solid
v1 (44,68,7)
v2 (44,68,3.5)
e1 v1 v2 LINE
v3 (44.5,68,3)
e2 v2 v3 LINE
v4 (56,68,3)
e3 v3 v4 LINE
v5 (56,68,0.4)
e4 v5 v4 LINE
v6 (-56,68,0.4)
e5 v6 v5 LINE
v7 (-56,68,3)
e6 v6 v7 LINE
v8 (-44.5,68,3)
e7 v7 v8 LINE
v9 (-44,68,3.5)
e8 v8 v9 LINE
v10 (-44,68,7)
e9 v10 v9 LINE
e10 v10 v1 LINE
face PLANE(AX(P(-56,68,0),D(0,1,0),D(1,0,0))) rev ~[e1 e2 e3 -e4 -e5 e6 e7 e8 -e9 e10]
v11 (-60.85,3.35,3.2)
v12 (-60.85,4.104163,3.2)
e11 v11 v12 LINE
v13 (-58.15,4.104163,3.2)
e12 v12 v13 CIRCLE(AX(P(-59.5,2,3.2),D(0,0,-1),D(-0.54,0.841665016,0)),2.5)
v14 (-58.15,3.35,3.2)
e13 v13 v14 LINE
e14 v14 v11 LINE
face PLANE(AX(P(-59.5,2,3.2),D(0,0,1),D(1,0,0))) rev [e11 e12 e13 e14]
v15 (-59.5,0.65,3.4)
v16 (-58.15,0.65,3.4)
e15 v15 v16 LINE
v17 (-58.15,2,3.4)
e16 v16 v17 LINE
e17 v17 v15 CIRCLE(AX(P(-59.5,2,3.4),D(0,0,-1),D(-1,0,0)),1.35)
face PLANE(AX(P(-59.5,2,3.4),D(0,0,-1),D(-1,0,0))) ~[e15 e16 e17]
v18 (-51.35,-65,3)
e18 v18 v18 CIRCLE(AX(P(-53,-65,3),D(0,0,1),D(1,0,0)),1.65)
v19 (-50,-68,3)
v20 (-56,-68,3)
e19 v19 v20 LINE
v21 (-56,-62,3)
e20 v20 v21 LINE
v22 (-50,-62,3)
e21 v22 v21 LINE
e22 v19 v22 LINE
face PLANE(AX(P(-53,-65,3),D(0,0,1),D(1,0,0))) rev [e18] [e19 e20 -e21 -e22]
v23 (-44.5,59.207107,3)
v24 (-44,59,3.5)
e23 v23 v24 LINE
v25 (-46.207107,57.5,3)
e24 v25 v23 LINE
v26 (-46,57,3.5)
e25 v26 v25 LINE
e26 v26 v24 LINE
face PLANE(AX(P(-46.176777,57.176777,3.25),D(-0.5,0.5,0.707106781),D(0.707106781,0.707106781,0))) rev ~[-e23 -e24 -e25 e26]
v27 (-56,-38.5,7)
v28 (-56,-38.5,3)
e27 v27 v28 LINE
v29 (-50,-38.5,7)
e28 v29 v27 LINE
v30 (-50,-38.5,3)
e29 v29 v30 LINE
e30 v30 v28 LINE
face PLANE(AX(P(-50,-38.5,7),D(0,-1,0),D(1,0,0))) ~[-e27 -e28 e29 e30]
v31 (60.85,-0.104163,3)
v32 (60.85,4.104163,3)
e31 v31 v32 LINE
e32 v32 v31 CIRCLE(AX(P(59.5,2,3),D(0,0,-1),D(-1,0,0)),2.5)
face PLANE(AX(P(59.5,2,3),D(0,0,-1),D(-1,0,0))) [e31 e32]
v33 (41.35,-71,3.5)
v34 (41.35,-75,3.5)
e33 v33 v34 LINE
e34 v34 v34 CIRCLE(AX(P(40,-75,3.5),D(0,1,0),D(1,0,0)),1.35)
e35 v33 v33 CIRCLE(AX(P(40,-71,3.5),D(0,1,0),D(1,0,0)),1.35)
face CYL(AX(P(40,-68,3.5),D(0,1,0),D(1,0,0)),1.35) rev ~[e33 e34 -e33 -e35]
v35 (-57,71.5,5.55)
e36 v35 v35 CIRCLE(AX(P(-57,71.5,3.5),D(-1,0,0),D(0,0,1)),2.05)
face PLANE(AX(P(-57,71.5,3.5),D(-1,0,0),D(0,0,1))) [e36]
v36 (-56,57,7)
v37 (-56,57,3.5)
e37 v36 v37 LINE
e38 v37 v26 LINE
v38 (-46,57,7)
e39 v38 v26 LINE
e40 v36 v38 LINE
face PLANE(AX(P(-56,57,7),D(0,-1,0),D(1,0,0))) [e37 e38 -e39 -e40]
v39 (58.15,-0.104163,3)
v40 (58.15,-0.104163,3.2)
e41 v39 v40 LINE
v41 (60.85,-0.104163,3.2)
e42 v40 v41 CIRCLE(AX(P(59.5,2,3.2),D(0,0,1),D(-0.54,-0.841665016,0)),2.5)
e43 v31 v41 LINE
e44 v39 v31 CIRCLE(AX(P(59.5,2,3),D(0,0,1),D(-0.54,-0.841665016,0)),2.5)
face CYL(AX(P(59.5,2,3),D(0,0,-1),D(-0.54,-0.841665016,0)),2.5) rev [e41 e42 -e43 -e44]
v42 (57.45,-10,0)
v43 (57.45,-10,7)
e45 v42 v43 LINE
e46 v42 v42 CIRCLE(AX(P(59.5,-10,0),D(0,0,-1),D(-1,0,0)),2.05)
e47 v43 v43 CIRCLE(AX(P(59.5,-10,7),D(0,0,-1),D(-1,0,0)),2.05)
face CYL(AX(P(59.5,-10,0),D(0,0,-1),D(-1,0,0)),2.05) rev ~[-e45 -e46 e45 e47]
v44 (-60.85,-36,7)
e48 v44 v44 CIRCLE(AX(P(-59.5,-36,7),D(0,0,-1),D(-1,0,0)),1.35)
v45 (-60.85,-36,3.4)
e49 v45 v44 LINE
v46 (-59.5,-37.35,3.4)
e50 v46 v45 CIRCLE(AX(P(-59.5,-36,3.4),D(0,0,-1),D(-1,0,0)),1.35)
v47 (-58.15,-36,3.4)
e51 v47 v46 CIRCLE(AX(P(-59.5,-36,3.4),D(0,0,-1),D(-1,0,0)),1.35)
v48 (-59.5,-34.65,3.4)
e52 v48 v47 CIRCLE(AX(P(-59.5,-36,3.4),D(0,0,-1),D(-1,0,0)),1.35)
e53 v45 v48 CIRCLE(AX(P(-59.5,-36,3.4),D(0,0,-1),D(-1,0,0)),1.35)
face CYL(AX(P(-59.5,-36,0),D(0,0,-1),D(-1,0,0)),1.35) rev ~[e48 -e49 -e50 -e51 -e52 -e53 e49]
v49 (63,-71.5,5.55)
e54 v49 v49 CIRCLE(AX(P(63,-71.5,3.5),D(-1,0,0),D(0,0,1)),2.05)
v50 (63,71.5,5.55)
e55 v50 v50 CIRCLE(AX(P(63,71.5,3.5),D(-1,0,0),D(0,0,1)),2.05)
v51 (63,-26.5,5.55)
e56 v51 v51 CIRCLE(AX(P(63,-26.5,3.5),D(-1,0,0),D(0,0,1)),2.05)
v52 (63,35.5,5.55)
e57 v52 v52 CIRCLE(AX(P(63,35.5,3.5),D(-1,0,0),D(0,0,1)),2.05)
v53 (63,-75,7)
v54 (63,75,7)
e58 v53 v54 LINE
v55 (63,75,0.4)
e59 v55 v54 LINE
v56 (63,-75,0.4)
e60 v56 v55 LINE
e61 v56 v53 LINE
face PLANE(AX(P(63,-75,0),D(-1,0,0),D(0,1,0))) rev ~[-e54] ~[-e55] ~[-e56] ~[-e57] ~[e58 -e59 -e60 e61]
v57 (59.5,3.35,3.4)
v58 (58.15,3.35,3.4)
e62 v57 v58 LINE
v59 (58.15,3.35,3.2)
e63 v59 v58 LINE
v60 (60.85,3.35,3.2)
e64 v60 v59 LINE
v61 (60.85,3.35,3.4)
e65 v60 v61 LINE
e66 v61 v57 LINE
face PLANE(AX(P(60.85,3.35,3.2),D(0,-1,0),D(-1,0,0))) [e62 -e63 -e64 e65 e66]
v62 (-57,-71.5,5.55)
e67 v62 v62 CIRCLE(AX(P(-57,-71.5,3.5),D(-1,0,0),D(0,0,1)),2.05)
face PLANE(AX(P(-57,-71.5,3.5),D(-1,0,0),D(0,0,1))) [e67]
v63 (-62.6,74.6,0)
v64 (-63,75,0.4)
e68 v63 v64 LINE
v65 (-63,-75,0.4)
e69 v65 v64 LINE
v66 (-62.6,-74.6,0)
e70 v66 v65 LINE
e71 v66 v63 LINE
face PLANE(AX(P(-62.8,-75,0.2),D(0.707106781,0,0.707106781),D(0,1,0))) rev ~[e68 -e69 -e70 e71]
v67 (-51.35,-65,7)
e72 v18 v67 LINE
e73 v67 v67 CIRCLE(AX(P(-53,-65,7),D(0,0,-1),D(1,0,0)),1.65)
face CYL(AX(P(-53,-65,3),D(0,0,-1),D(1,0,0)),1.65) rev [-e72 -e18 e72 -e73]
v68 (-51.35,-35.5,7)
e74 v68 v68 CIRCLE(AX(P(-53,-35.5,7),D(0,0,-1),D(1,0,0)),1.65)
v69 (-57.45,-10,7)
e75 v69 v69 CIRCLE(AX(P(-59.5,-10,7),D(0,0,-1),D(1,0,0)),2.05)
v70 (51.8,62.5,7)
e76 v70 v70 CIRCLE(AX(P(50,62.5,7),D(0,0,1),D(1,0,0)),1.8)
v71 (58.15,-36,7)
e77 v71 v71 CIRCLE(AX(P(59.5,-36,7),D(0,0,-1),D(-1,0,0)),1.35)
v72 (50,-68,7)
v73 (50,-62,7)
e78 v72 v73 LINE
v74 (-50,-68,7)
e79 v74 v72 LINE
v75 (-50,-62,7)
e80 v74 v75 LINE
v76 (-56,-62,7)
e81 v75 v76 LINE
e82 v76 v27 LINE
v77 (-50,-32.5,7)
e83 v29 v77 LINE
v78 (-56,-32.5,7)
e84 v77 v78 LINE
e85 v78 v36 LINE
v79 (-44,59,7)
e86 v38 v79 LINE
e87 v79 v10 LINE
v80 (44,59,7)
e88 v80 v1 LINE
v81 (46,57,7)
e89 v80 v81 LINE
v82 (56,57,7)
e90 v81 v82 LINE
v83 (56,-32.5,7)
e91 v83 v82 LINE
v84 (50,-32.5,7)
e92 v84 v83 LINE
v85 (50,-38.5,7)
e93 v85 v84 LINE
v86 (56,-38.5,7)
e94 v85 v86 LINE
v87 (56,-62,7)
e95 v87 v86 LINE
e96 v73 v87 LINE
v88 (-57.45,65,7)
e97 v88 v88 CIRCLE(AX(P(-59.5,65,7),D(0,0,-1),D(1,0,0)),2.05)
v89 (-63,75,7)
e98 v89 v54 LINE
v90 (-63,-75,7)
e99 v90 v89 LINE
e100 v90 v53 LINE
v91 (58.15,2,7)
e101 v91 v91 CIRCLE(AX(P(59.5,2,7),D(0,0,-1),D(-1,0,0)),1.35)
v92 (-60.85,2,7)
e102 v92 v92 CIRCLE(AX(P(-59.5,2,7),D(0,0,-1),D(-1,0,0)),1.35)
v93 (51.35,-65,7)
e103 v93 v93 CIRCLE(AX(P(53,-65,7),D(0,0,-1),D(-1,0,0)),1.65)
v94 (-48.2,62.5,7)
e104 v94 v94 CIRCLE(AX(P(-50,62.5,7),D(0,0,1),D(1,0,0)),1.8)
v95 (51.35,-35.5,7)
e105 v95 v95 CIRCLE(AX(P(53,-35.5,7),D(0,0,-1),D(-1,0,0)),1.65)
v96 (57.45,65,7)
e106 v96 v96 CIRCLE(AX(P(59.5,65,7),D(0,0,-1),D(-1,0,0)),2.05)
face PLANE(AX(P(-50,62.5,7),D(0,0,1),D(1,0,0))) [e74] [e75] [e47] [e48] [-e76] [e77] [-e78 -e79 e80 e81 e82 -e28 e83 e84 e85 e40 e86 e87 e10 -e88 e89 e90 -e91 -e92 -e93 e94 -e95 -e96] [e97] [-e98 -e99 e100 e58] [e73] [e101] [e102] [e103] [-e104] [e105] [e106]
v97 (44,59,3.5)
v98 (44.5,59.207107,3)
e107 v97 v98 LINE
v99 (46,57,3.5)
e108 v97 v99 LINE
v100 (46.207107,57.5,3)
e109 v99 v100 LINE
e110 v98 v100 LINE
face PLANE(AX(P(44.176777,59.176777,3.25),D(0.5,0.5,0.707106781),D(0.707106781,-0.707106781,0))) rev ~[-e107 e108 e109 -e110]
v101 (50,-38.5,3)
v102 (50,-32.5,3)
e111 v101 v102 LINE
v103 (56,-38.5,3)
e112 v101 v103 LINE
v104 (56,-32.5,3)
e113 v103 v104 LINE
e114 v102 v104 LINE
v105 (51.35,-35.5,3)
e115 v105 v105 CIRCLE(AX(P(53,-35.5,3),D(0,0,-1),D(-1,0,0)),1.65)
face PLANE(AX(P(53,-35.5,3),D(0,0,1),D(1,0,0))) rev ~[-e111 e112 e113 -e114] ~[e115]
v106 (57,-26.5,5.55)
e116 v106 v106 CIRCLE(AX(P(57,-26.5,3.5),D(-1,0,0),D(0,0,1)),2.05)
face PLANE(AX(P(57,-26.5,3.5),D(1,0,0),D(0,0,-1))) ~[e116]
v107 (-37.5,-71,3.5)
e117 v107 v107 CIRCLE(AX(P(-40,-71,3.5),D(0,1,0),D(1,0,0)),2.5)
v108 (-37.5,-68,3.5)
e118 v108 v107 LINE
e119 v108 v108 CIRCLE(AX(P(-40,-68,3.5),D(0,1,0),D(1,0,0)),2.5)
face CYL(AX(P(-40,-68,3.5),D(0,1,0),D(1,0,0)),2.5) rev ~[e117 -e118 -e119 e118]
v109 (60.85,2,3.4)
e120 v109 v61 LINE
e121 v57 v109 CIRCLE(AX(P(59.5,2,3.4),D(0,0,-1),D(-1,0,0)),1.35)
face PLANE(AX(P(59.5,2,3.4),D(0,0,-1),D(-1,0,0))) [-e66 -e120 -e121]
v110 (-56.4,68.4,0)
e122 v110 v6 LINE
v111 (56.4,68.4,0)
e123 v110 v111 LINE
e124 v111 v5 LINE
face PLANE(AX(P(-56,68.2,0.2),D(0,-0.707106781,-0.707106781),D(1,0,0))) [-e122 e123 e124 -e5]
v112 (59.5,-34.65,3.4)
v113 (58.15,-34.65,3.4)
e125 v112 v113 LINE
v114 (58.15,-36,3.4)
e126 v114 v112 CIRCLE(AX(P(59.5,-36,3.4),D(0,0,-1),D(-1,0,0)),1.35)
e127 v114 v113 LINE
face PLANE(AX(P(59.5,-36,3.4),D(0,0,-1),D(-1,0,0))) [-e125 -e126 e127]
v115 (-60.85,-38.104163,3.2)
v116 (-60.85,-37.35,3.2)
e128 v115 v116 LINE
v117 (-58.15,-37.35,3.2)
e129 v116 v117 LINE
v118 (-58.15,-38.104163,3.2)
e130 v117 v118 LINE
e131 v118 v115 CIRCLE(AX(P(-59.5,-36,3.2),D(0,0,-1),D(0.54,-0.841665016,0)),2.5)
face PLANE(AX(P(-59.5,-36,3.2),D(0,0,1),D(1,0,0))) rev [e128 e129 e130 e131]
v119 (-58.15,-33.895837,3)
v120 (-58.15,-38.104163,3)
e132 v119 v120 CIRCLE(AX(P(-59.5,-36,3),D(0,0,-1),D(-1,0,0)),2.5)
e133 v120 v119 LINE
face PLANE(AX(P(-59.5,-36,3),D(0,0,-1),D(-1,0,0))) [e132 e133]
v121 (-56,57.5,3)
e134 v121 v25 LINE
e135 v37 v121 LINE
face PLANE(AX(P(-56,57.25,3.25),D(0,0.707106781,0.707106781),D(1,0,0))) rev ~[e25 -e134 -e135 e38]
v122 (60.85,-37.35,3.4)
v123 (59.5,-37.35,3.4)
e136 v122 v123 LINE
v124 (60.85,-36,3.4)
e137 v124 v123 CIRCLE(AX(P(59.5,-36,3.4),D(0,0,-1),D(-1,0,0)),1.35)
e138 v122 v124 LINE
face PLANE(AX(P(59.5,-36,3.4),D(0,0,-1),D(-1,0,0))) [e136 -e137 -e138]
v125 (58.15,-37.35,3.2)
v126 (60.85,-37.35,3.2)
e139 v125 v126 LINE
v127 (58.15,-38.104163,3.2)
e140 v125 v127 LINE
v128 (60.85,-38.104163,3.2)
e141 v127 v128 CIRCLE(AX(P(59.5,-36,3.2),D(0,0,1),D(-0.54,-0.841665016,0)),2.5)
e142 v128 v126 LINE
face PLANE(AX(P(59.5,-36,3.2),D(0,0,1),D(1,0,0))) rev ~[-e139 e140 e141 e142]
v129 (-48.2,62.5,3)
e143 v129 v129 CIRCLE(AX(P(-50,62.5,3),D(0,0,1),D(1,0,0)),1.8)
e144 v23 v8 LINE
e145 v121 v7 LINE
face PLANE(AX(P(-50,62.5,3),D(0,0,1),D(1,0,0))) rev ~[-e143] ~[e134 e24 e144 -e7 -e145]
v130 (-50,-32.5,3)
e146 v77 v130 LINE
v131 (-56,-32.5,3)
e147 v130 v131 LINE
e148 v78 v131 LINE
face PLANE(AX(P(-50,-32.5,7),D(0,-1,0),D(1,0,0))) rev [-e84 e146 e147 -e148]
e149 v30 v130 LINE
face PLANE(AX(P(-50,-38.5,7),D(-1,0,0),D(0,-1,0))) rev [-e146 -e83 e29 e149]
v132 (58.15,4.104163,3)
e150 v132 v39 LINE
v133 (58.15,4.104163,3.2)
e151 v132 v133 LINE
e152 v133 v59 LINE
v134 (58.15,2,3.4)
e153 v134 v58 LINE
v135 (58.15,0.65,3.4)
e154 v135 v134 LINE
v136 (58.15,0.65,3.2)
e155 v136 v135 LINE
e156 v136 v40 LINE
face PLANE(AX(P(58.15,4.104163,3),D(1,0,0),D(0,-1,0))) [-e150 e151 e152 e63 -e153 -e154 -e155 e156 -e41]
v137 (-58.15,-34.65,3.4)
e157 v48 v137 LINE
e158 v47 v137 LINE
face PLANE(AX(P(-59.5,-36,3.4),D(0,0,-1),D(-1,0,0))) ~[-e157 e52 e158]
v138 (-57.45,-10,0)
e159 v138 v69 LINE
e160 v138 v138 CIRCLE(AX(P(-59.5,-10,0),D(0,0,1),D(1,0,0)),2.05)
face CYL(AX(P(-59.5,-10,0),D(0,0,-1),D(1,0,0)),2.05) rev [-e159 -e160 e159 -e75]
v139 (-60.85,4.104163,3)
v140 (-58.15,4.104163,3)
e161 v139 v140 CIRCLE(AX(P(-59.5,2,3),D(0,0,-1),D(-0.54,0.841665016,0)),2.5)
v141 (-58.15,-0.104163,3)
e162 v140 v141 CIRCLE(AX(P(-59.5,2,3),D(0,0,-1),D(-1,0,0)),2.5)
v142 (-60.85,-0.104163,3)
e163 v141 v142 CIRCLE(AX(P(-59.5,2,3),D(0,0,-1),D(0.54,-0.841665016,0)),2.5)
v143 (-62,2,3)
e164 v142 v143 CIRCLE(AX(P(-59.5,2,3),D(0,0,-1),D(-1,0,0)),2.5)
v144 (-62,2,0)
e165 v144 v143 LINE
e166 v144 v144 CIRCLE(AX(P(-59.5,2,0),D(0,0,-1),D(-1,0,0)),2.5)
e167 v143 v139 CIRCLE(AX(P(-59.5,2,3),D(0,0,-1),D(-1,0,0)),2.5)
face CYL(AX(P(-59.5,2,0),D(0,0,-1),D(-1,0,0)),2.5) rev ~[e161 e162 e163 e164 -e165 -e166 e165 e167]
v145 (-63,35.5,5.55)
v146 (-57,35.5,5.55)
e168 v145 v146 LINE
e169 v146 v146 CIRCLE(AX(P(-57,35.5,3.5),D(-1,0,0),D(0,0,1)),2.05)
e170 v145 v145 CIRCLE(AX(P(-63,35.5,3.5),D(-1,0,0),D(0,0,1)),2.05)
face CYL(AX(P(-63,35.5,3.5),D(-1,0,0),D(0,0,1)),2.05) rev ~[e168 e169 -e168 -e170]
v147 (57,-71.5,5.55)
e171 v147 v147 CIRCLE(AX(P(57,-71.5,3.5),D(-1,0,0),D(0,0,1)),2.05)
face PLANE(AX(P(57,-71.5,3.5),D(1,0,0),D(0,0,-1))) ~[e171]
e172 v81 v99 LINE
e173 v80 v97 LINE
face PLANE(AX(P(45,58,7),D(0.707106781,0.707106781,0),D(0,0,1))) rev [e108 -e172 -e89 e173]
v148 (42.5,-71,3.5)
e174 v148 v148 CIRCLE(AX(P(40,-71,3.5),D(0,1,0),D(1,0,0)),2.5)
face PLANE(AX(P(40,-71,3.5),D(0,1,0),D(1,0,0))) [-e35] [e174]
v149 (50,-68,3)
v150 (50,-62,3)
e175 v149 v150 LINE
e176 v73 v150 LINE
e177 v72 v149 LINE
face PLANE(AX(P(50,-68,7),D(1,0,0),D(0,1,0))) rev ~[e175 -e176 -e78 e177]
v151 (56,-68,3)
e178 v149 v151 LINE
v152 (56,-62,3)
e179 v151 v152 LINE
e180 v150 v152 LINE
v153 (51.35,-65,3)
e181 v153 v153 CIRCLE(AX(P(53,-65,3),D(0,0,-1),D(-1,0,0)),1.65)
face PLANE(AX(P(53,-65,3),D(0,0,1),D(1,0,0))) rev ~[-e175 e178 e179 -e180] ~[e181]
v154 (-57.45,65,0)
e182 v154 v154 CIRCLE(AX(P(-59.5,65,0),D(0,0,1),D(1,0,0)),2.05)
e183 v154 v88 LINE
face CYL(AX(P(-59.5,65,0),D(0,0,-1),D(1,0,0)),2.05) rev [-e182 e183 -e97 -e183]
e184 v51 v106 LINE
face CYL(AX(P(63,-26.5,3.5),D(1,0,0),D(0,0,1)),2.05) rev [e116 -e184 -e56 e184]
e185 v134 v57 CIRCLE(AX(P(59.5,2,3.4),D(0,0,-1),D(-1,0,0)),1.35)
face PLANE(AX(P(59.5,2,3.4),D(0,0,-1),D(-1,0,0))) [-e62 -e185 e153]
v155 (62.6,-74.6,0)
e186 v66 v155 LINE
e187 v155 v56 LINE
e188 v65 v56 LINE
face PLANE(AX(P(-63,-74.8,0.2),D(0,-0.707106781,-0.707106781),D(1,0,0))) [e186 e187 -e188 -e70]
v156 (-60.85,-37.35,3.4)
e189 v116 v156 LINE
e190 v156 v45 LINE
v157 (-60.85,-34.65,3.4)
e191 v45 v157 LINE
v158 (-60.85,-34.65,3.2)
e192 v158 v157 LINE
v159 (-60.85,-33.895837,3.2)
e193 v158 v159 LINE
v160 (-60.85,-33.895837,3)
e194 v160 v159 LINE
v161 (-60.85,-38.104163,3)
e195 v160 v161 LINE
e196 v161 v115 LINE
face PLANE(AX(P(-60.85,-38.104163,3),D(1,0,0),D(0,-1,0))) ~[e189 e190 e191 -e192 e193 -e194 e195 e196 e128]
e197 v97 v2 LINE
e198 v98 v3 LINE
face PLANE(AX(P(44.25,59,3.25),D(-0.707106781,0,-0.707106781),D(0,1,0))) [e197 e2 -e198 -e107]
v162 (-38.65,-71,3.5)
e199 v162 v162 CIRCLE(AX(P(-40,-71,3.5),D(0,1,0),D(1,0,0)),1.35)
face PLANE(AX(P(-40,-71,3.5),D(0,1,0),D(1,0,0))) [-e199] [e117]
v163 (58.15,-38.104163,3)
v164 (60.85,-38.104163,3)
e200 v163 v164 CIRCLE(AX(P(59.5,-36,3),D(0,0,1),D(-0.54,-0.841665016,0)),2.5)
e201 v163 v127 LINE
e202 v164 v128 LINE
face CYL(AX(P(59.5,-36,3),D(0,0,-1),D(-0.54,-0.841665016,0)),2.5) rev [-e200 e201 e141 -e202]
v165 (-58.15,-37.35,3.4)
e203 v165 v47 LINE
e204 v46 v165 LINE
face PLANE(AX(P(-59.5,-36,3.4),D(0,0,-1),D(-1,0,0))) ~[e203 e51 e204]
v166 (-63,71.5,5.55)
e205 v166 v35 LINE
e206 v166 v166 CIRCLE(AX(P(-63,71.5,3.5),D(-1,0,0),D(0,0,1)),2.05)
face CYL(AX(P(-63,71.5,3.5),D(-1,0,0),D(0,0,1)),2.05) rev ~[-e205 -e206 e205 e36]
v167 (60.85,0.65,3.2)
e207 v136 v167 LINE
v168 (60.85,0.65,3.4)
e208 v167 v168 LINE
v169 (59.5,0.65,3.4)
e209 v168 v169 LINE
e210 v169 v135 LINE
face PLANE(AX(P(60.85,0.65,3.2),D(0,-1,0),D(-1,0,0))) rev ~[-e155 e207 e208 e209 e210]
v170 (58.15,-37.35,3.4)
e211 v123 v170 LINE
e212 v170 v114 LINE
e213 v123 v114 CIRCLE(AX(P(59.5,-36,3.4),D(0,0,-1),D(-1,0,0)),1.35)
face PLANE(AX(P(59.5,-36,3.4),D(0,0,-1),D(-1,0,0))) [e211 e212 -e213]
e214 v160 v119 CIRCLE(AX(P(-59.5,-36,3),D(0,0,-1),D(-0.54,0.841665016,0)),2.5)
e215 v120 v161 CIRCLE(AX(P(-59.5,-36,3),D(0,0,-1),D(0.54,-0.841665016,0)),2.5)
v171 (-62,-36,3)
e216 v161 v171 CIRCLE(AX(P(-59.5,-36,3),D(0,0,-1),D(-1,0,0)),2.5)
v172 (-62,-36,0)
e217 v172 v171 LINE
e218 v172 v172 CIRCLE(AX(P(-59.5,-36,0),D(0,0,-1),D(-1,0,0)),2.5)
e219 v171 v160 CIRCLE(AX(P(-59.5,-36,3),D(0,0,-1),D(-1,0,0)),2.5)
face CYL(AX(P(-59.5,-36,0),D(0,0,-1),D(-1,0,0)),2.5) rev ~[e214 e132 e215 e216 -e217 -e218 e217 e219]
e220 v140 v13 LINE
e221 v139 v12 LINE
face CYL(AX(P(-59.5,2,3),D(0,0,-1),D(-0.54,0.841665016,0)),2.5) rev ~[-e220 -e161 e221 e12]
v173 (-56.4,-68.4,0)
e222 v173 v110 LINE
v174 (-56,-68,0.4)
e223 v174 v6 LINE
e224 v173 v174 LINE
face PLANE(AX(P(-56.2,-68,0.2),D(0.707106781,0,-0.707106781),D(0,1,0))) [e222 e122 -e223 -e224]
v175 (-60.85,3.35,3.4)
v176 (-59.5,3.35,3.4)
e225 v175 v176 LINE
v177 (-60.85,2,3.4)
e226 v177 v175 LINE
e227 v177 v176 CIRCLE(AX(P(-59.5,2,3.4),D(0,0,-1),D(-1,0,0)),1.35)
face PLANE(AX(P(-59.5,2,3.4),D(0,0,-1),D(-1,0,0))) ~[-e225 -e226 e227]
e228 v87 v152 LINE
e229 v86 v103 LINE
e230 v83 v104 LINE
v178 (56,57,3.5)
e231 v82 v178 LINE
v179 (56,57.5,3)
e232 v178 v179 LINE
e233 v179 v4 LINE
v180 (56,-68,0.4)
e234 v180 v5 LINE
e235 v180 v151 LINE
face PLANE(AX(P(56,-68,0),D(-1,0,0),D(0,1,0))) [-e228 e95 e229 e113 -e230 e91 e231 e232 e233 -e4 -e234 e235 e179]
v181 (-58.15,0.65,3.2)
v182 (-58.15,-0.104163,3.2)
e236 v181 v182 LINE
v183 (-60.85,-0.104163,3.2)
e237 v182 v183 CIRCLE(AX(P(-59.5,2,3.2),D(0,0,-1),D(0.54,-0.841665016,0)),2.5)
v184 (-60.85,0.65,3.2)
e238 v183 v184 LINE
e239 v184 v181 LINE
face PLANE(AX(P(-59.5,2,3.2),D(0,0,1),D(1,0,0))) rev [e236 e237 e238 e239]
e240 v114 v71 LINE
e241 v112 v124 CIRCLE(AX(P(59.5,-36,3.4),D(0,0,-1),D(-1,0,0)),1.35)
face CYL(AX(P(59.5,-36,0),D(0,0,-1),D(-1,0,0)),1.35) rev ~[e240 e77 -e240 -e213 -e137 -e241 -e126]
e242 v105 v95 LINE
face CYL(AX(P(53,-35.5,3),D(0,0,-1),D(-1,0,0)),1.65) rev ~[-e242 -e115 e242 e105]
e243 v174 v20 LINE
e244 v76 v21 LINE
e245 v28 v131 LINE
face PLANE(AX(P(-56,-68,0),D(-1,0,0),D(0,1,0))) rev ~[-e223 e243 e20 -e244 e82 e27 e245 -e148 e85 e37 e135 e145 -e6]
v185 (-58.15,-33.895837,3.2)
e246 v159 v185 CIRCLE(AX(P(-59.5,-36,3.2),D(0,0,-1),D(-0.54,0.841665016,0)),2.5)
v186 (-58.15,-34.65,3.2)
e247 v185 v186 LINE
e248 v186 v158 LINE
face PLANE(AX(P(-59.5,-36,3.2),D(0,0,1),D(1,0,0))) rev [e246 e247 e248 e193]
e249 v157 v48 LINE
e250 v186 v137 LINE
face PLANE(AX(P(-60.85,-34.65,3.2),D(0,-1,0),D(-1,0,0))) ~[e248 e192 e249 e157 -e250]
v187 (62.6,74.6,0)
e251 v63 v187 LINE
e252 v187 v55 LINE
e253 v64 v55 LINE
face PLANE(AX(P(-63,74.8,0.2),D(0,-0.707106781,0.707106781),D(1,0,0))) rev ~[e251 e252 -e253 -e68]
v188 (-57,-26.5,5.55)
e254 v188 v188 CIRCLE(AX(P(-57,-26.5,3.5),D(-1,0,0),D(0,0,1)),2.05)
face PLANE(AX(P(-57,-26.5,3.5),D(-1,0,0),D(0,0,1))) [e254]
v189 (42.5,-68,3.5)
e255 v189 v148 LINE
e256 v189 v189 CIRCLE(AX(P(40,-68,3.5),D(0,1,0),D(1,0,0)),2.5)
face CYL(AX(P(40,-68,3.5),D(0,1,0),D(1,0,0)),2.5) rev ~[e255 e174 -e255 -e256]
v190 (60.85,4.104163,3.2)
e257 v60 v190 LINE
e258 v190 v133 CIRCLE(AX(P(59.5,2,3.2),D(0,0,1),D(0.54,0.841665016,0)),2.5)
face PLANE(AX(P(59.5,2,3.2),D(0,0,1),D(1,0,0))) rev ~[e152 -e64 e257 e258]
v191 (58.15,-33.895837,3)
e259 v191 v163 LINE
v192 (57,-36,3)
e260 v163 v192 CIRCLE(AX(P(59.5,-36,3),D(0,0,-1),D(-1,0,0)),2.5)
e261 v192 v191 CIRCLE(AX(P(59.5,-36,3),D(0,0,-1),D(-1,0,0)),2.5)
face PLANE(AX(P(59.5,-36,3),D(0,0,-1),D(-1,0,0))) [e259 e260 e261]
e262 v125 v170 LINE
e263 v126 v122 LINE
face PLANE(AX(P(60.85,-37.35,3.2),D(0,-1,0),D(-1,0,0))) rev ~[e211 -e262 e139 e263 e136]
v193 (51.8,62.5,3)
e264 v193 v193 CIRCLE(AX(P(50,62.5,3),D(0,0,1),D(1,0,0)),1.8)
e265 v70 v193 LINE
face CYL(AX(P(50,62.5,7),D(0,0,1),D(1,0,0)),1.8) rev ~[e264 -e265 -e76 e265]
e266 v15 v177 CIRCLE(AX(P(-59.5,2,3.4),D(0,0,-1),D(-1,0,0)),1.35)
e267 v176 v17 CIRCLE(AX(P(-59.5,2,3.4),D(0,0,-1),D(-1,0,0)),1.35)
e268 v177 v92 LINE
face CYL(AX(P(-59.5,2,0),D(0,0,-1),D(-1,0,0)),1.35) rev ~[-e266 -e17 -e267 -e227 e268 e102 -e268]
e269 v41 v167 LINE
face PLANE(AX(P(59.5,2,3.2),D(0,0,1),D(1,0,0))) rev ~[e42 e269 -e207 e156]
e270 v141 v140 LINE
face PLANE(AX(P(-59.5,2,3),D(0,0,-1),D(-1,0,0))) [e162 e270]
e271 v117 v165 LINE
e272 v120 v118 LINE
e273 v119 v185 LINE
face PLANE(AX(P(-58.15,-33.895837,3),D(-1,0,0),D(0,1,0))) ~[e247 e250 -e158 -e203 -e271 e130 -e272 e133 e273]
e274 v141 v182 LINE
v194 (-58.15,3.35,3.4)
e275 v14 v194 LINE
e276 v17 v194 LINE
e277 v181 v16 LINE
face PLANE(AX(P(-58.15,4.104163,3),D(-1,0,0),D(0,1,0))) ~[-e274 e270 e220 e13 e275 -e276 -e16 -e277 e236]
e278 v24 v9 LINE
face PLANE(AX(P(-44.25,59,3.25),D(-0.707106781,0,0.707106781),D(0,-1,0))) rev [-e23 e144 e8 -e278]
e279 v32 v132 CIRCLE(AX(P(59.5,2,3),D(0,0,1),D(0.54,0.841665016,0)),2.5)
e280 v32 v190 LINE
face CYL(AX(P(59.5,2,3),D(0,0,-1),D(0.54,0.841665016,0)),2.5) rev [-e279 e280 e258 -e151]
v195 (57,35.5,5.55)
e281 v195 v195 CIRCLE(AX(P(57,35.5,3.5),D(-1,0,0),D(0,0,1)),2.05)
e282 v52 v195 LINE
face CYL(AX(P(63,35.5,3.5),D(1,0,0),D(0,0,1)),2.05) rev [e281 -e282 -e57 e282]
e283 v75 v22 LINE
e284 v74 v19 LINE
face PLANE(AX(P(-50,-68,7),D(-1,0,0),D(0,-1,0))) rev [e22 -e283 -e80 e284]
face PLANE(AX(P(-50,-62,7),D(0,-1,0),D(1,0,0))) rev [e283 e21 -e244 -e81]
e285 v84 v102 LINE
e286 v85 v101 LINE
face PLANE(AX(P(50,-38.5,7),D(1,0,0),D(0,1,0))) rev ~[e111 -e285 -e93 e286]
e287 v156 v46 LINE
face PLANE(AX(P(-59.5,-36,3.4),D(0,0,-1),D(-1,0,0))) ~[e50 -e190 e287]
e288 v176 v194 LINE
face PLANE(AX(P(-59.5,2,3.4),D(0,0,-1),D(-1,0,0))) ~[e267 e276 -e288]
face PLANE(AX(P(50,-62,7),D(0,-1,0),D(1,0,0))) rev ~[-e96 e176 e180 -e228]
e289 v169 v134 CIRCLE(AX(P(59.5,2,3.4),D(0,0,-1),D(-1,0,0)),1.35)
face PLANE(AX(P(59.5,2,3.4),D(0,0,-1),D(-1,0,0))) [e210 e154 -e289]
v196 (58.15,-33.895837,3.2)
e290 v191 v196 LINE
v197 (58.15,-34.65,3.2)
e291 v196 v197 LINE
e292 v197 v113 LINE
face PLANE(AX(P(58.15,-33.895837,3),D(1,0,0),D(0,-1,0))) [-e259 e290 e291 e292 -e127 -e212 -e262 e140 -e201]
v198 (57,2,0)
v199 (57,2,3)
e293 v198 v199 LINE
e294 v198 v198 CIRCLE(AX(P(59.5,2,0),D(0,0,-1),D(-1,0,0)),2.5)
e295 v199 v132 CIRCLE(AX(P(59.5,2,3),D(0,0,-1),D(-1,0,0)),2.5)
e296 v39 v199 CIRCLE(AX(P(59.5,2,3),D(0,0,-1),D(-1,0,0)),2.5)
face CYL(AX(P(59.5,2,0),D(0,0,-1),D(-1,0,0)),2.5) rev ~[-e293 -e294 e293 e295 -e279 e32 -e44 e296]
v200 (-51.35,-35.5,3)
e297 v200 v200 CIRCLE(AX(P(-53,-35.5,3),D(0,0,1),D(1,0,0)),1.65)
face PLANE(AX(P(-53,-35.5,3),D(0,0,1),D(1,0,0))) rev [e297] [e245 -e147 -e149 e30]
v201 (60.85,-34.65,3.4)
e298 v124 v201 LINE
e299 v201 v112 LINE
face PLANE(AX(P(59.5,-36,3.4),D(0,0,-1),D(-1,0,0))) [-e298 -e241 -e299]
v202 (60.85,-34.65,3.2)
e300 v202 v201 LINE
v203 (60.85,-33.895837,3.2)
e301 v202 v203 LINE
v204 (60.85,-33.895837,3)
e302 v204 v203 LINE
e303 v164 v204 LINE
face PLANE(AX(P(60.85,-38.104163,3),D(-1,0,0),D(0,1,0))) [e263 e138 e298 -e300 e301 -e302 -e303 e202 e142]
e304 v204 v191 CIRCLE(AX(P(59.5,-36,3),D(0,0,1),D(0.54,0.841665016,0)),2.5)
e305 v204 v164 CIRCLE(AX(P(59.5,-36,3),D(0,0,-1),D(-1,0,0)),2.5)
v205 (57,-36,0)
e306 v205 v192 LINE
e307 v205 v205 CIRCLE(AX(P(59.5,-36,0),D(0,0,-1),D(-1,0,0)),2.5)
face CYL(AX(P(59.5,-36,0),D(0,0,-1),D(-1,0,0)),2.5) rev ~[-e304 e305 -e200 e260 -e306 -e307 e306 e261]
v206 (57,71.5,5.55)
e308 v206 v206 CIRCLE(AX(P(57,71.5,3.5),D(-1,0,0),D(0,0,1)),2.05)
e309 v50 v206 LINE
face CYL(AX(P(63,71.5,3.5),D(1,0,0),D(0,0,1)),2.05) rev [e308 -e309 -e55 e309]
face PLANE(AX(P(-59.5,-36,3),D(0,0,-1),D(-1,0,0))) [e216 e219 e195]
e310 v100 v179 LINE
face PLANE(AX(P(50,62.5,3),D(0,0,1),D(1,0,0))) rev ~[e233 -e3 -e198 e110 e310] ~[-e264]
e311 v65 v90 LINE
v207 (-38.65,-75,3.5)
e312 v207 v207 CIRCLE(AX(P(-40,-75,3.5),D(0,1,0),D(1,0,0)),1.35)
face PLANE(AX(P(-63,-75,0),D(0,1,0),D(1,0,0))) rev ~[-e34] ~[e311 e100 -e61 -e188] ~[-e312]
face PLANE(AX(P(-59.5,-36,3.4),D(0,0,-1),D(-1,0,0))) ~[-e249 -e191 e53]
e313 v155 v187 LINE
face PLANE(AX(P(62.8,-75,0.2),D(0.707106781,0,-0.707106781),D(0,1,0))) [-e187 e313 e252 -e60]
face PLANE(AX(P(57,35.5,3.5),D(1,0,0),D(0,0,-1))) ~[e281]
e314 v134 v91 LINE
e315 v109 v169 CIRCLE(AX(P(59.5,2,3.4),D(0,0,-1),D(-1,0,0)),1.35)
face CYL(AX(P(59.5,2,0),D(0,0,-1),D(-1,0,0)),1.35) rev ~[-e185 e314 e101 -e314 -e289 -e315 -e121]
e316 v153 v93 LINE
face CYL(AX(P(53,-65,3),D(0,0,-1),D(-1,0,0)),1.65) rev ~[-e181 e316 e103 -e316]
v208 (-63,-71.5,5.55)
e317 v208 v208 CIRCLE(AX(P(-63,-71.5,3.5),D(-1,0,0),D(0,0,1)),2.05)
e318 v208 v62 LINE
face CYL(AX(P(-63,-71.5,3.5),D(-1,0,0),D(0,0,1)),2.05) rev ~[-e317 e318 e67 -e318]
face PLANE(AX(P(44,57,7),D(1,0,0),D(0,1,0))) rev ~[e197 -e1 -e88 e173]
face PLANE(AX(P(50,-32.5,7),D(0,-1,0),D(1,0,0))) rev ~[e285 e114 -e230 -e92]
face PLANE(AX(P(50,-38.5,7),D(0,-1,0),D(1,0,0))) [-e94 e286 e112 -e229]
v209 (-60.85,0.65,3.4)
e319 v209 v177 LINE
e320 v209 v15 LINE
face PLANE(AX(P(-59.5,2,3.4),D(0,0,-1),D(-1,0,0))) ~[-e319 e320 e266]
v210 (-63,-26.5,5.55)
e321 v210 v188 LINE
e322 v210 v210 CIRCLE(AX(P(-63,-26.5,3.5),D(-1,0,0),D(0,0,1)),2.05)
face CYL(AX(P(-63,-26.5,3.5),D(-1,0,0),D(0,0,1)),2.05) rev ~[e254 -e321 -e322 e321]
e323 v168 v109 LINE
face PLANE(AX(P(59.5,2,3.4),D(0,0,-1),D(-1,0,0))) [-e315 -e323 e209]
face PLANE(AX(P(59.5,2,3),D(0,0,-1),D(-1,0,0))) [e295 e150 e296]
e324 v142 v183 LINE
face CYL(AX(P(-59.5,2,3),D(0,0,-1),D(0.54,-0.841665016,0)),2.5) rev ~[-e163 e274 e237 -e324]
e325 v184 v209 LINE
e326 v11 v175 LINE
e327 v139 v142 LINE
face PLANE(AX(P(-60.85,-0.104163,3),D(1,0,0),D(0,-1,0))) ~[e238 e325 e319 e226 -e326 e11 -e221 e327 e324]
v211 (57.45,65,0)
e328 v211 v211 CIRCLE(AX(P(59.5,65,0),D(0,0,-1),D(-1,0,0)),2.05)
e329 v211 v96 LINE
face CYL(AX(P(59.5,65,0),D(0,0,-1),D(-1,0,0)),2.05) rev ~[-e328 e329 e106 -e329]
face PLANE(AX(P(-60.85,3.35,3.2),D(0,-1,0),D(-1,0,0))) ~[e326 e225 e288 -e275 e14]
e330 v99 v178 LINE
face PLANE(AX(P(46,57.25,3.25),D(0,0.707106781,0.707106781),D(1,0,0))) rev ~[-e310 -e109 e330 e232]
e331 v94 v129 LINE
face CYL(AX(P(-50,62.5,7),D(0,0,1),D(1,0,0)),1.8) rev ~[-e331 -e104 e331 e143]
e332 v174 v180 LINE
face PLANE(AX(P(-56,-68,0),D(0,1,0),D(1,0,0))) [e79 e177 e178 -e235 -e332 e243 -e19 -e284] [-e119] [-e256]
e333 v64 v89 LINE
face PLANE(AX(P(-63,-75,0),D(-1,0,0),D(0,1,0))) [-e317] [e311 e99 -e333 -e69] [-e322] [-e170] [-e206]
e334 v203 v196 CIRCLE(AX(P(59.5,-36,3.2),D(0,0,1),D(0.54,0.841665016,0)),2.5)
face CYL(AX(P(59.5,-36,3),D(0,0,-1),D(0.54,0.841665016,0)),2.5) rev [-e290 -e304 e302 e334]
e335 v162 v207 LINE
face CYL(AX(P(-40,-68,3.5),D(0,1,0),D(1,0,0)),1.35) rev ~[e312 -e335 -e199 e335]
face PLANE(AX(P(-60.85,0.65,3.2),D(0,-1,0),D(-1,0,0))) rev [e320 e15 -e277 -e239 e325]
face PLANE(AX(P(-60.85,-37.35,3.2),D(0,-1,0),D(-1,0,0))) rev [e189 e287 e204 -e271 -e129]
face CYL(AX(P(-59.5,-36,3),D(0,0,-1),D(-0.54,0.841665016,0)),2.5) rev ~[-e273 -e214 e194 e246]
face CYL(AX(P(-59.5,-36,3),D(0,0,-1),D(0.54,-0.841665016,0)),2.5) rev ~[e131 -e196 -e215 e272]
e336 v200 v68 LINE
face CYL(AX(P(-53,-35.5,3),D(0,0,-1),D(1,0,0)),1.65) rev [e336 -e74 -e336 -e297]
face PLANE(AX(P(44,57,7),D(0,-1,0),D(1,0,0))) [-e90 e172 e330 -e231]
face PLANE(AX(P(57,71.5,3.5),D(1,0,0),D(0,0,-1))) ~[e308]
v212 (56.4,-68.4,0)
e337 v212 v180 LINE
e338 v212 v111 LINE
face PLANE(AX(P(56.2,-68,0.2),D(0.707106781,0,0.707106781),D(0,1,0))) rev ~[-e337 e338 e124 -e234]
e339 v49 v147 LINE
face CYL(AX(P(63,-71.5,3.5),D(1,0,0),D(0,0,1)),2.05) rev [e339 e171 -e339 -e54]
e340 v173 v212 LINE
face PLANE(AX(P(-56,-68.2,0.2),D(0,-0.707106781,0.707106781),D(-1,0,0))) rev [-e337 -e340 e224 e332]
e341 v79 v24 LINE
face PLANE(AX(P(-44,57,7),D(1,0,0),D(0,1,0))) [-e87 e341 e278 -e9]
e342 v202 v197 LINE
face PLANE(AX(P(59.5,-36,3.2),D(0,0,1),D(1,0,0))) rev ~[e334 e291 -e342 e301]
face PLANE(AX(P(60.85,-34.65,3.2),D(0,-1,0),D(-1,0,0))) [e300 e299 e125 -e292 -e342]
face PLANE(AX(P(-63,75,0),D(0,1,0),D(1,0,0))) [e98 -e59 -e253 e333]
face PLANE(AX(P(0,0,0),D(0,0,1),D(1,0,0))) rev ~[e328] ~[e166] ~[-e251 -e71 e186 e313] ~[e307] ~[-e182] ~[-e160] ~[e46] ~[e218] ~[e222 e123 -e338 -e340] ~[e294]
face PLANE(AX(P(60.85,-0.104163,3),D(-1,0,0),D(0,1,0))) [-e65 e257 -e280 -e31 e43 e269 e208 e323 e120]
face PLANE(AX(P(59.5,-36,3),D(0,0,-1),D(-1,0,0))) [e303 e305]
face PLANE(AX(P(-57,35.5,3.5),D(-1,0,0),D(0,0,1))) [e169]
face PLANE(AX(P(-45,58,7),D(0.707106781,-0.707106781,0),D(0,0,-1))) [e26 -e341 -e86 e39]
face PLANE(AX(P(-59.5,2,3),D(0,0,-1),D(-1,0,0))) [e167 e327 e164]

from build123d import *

# Parameters (mm, degrees)
SKETCH1_W                       = 126
SKETCH1_H                       = 150
SKETCH1_W_2                     = 112
SKETCH1_H_2                     = 136
BOSS_EXTRUDE1_DEPTH             = 7
SKETCH2_R                       = 2.05
CUT_EXTRUDE1_DEPTH              = 6
SKETCH3_R                       = 1.35
CUT_EXTRUDE2_DEPTH              = 8
SKETCH4_R                       = 2.5
CUT_EXTRUDE3_DEPTH              = 3
SKETCH5_R                       = 1.35
CUT_EXTRUDE4_DEPTH              = 8
SKETCH6_R                       = 2.5
CUT_EXTRUDE5_DEPTH              = 3
SKETCH7_R                       = 2.05
CUT_EXTRUDE6_DEPTH              = 8
CUT_EXTRUDE7_DEPTH              = 0.2
SKETCH9_W                       = 2.7
SKETCH9_H                       = 2.7
CUT_EXTRUDE8_DEPTH              = 0.2
SKETCH10_W                      = 6
SKETCH10_H                      = 6
BOSS_EXTRUDE2_DEPTH             = 4
SKETCH11_R                      = 1.65
CUT_EXTRUDE9_DEPTH              = 5
CHAMFER1_SIZE                   = 0.4
CHAMFER2_SIZE                   = 0.4
SKIZZE2_W                       = 12
SKIZZE2_H                       = 11
SKIZZE2_R                       = 1.8
AUFSATZ_LINEAR_AUSTRAGEN1_DEPTH = 4
FASE1_SIZE                      = 2
FASE2_SIZE                      = 0.5


with BuildPart() as part:
    # Sketch1 → Boss-Extrude1 (new body)
    with BuildSketch(Plane.XY):
        Rectangle(SKETCH1_W, SKETCH1_H)
        Rectangle(SKETCH1_W_2, SKETCH1_H_2, mode=Mode.SUBTRACT)
    extrude(amount=BOSS_EXTRUDE1_DEPTH)

    # Sketch2 → Cut-Extrude1 (cut)
    with BuildSketch(Plane.ZY.offset(63)):
        with Locations((3.5, -71.5)):
            Circle(SKETCH2_R)
        with Locations((3.5, 71.5)):
            Circle(SKETCH2_R)
        with Locations((3.5, 35.5)):
            Circle(SKETCH2_R)
        with Locations((3.5, -26.5)):
            Circle(SKETCH2_R)
    cut_extrude1 = extrude(amount=-CUT_EXTRUDE1_DEPTH, mode=Mode.SUBTRACT)

    # Mirror1: Cut-Extrude1 across plane
    add(cut_extrude1.mirror(Plane(origin=(0, 0, 0), x_dir=(0, 0, 1), z_dir=(1, 0, 0))), mode=Mode.SUBTRACT)

    # Sketch3 → Cut-Extrude2 (cut, through all)
    with BuildSketch(Plane(origin=(0, -68, 0), x_dir=(1, 0, 0), z_dir=(0, 1, 0))):
        with Locations((40, -3.5)):
            Circle(SKETCH3_R)
        with Locations((-40, -3.5)):
            Circle(SKETCH3_R)
    extrude(amount=-CUT_EXTRUDE2_DEPTH, mode=Mode.SUBTRACT)

    # Sketch4 → Cut-Extrude3 (cut)
    with BuildSketch(Plane(origin=(0, -68, 0), x_dir=(1, 0, 0), z_dir=(0, 1, 0))):
        with Locations((40, -3.5)):
            Circle(SKETCH4_R)
        with Locations((-40, -3.5)):
            Circle(SKETCH4_R)
    extrude(amount=-CUT_EXTRUDE3_DEPTH, mode=Mode.SUBTRACT)

    # Sketch5 → Cut-Extrude4 (cut, through all)
    with BuildSketch(Plane(origin=(0, 0, 0), x_dir=(-1, 0, 0), z_dir=(0, 0, -1))):
        with Locations((-59.5, 2)):
            Circle(SKETCH5_R)
        with Locations((59.5, 2)):
            Circle(SKETCH5_R)
        with Locations((-59.5, -36)):
            Circle(SKETCH5_R)
        with Locations((59.5, -36)):
            Circle(SKETCH5_R)
    extrude(amount=-CUT_EXTRUDE4_DEPTH, mode=Mode.SUBTRACT)

    # Sketch6 → Cut-Extrude5 (cut)
    with BuildSketch(Plane(origin=(0, 0, 0), x_dir=(-1, 0, 0), z_dir=(0, 0, -1))):
        with Locations((-59.5, 2)):
            Circle(SKETCH6_R)
        with Locations((59.5, 2)):
            Circle(SKETCH6_R)
        with Locations((-59.5, -36)):
            Circle(SKETCH6_R)
        with Locations((59.5, -36)):
            Circle(SKETCH6_R)
    extrude(amount=-CUT_EXTRUDE5_DEPTH, mode=Mode.SUBTRACT)

    # Sketch7 → Cut-Extrude6 (cut, through all)
    with BuildSketch(Plane(origin=(0, 0, 0), x_dir=(-1, 0, 0), z_dir=(0, 0, -1))):
        with Locations((-59.5, 65)):
            Circle(SKETCH7_R)
        with Locations((-59.5, -10)):
            Circle(SKETCH7_R)
    cut_extrude6 = extrude(amount=-CUT_EXTRUDE6_DEPTH, mode=Mode.SUBTRACT)

    # Mirror2: Cut-Extrude6 across plane
    add(cut_extrude6.mirror(Plane(origin=(0, 0, 0), x_dir=(0, 0, 1), z_dir=(1, 0, 0))), mode=Mode.SUBTRACT)

    # Sketch8 → Cut-Extrude7 (cut)
    with BuildSketch(Plane(origin=(0, 0, 3), x_dir=(-1, 0, 0), z_dir=(0, 0, -1))):
        with BuildLine():
            Line((-60.85, -0.104162541), (-60.85, 4.104162541))
            ThreePointArc((-60.85, 4.104162541), (-59.5, 4.5), (-58.15, 4.104162541))
            Line((-58.15, 4.104162541), (-58.15, -0.104162541))
            ThreePointArc((-58.15, -0.104162541), (-59.5, -0.5), (-60.85, -0.104162541))
        make_face()
        with BuildLine():
            Line((-60.85, -38.104162541), (-60.85, -33.895837459))
            ThreePointArc((-60.85, -33.895837459), (-59.5, -33.5), (-58.15, -33.895837459))
            Line((-58.15, -33.895837459), (-58.15, -38.104162541))
            ThreePointArc((-58.15, -38.104162541), (-59.5, -38.5), (-60.85, -38.104162541))
        make_face()
    cut_extrude7 = extrude(amount=-CUT_EXTRUDE7_DEPTH, mode=Mode.SUBTRACT)

    # Sketch9 → Cut-Extrude8 (cut)
    with BuildSketch(Plane(origin=(0, 0, 3.2), x_dir=(-1, 0, 0), z_dir=(0, 0, -1))):
        with Locations((-59.5, 2)):
            Rectangle(SKETCH9_W, SKETCH9_H)
        with Locations((-59.5, -36)):
            Rectangle(SKETCH9_W, SKETCH9_H)
    cut_extrude8 = extrude(amount=-CUT_EXTRUDE8_DEPTH, mode=Mode.SUBTRACT)

    # Mirror3: Cut-Extrude7, Cut-Extrude8 across plane
    add(cut_extrude7.mirror(Plane(origin=(0, 0, 0), x_dir=(0, 0, 1), z_dir=(1, 0, 0))), mode=Mode.SUBTRACT)
    add(cut_extrude8.mirror(Plane(origin=(0, 0, 0), x_dir=(0, 0, 1), z_dir=(1, 0, 0))), mode=Mode.SUBTRACT)

    # Sketch10 → Boss-Extrude2 (add)
    with BuildSketch(Plane.XY.offset(7)):
        with Locations((53, -65)):
            Rectangle(SKETCH10_W, SKETCH10_H)
        with Locations((53, -35.5)):
            Rectangle(SKETCH10_W, SKETCH10_H)
    boss_extrude2 = extrude(amount=-BOSS_EXTRUDE2_DEPTH)

    # Sketch11 → Cut-Extrude9 (cut, through all)
    with BuildSketch(Plane(origin=(0, 0, 3), x_dir=(-1, 0, 0), z_dir=(0, 0, -1))):
        with Locations((-53, -35.5)):
            Circle(SKETCH11_R)
        with Locations((-53, -65)):
            Circle(SKETCH11_R)
    cut_extrude9 = extrude(amount=-CUT_EXTRUDE9_DEPTH, mode=Mode.SUBTRACT)

    # Mirror4: Boss-Extrude2, Cut-Extrude9 across plane
    add(boss_extrude2.mirror(Plane(origin=(0, 0, 0), x_dir=(0, 0, 1), z_dir=(1, 0, 0))))
    add(cut_extrude9.mirror(Plane(origin=(0, 0, 0), x_dir=(0, 0, 1), z_dir=(1, 0, 0))), mode=Mode.SUBTRACT)

    # Chamfer1
    chamfer1_edges = [part.edges().sort_by_distance(p)[0] for p in [
        (56, 0, 0),
        (0, 68, 0),
        (-56, 0, 0),
        (0, -68, 0),
    ]]
    chamfer(chamfer1_edges, length=CHAMFER1_SIZE)

    # Chamfer2
    chamfer2_edges = [part.edges().sort_by_distance(p)[0] for p in [
        (0, -75, 0),
        (-63, 0, 0),
        (0, 75, 0),
        (63, 0, 0),
    ]]
    chamfer(chamfer2_edges, length=CHAMFER2_SIZE)

    # Skizze2 → Aufsatz-Linear austragen1 (add)
    with BuildSketch(Plane.XY.offset(7)):
        with Locations((-50, 62.5)):
            Rectangle(SKIZZE2_W, SKIZZE2_H)
        with Locations((-50, 62.5)):
            Circle(SKIZZE2_R, mode=Mode.SUBTRACT)
        with Locations((50, 62.5)):
            Rectangle(SKIZZE2_W, SKIZZE2_H)
        with Locations((50, 62.5)):
            Circle(SKIZZE2_R, mode=Mode.SUBTRACT)
    extrude(amount=-AUFSATZ_LINEAR_AUSTRAGEN1_DEPTH)

    # Fase1
    fase1_edges = [part.edges().sort_by_distance(p)[0] for p in [
        (-44, 57, 5),
        (44, 57, 5),
    ]]
    chamfer(fase1_edges, length=FASE1_SIZE)

    # Fase2
    fase2_edges = [part.edges().sort_by_distance(p)[0] for p in [
        (-51, 57, 3),
        (44, 63.5, 3),
        (-44, 63.5, 3),
        (-45, 58, 3),
        (51, 57, 3),
        (45, 58, 3),
    ]]
    chamfer(fase2_edges, length=FASE2_SIZE)


solid = part.part
